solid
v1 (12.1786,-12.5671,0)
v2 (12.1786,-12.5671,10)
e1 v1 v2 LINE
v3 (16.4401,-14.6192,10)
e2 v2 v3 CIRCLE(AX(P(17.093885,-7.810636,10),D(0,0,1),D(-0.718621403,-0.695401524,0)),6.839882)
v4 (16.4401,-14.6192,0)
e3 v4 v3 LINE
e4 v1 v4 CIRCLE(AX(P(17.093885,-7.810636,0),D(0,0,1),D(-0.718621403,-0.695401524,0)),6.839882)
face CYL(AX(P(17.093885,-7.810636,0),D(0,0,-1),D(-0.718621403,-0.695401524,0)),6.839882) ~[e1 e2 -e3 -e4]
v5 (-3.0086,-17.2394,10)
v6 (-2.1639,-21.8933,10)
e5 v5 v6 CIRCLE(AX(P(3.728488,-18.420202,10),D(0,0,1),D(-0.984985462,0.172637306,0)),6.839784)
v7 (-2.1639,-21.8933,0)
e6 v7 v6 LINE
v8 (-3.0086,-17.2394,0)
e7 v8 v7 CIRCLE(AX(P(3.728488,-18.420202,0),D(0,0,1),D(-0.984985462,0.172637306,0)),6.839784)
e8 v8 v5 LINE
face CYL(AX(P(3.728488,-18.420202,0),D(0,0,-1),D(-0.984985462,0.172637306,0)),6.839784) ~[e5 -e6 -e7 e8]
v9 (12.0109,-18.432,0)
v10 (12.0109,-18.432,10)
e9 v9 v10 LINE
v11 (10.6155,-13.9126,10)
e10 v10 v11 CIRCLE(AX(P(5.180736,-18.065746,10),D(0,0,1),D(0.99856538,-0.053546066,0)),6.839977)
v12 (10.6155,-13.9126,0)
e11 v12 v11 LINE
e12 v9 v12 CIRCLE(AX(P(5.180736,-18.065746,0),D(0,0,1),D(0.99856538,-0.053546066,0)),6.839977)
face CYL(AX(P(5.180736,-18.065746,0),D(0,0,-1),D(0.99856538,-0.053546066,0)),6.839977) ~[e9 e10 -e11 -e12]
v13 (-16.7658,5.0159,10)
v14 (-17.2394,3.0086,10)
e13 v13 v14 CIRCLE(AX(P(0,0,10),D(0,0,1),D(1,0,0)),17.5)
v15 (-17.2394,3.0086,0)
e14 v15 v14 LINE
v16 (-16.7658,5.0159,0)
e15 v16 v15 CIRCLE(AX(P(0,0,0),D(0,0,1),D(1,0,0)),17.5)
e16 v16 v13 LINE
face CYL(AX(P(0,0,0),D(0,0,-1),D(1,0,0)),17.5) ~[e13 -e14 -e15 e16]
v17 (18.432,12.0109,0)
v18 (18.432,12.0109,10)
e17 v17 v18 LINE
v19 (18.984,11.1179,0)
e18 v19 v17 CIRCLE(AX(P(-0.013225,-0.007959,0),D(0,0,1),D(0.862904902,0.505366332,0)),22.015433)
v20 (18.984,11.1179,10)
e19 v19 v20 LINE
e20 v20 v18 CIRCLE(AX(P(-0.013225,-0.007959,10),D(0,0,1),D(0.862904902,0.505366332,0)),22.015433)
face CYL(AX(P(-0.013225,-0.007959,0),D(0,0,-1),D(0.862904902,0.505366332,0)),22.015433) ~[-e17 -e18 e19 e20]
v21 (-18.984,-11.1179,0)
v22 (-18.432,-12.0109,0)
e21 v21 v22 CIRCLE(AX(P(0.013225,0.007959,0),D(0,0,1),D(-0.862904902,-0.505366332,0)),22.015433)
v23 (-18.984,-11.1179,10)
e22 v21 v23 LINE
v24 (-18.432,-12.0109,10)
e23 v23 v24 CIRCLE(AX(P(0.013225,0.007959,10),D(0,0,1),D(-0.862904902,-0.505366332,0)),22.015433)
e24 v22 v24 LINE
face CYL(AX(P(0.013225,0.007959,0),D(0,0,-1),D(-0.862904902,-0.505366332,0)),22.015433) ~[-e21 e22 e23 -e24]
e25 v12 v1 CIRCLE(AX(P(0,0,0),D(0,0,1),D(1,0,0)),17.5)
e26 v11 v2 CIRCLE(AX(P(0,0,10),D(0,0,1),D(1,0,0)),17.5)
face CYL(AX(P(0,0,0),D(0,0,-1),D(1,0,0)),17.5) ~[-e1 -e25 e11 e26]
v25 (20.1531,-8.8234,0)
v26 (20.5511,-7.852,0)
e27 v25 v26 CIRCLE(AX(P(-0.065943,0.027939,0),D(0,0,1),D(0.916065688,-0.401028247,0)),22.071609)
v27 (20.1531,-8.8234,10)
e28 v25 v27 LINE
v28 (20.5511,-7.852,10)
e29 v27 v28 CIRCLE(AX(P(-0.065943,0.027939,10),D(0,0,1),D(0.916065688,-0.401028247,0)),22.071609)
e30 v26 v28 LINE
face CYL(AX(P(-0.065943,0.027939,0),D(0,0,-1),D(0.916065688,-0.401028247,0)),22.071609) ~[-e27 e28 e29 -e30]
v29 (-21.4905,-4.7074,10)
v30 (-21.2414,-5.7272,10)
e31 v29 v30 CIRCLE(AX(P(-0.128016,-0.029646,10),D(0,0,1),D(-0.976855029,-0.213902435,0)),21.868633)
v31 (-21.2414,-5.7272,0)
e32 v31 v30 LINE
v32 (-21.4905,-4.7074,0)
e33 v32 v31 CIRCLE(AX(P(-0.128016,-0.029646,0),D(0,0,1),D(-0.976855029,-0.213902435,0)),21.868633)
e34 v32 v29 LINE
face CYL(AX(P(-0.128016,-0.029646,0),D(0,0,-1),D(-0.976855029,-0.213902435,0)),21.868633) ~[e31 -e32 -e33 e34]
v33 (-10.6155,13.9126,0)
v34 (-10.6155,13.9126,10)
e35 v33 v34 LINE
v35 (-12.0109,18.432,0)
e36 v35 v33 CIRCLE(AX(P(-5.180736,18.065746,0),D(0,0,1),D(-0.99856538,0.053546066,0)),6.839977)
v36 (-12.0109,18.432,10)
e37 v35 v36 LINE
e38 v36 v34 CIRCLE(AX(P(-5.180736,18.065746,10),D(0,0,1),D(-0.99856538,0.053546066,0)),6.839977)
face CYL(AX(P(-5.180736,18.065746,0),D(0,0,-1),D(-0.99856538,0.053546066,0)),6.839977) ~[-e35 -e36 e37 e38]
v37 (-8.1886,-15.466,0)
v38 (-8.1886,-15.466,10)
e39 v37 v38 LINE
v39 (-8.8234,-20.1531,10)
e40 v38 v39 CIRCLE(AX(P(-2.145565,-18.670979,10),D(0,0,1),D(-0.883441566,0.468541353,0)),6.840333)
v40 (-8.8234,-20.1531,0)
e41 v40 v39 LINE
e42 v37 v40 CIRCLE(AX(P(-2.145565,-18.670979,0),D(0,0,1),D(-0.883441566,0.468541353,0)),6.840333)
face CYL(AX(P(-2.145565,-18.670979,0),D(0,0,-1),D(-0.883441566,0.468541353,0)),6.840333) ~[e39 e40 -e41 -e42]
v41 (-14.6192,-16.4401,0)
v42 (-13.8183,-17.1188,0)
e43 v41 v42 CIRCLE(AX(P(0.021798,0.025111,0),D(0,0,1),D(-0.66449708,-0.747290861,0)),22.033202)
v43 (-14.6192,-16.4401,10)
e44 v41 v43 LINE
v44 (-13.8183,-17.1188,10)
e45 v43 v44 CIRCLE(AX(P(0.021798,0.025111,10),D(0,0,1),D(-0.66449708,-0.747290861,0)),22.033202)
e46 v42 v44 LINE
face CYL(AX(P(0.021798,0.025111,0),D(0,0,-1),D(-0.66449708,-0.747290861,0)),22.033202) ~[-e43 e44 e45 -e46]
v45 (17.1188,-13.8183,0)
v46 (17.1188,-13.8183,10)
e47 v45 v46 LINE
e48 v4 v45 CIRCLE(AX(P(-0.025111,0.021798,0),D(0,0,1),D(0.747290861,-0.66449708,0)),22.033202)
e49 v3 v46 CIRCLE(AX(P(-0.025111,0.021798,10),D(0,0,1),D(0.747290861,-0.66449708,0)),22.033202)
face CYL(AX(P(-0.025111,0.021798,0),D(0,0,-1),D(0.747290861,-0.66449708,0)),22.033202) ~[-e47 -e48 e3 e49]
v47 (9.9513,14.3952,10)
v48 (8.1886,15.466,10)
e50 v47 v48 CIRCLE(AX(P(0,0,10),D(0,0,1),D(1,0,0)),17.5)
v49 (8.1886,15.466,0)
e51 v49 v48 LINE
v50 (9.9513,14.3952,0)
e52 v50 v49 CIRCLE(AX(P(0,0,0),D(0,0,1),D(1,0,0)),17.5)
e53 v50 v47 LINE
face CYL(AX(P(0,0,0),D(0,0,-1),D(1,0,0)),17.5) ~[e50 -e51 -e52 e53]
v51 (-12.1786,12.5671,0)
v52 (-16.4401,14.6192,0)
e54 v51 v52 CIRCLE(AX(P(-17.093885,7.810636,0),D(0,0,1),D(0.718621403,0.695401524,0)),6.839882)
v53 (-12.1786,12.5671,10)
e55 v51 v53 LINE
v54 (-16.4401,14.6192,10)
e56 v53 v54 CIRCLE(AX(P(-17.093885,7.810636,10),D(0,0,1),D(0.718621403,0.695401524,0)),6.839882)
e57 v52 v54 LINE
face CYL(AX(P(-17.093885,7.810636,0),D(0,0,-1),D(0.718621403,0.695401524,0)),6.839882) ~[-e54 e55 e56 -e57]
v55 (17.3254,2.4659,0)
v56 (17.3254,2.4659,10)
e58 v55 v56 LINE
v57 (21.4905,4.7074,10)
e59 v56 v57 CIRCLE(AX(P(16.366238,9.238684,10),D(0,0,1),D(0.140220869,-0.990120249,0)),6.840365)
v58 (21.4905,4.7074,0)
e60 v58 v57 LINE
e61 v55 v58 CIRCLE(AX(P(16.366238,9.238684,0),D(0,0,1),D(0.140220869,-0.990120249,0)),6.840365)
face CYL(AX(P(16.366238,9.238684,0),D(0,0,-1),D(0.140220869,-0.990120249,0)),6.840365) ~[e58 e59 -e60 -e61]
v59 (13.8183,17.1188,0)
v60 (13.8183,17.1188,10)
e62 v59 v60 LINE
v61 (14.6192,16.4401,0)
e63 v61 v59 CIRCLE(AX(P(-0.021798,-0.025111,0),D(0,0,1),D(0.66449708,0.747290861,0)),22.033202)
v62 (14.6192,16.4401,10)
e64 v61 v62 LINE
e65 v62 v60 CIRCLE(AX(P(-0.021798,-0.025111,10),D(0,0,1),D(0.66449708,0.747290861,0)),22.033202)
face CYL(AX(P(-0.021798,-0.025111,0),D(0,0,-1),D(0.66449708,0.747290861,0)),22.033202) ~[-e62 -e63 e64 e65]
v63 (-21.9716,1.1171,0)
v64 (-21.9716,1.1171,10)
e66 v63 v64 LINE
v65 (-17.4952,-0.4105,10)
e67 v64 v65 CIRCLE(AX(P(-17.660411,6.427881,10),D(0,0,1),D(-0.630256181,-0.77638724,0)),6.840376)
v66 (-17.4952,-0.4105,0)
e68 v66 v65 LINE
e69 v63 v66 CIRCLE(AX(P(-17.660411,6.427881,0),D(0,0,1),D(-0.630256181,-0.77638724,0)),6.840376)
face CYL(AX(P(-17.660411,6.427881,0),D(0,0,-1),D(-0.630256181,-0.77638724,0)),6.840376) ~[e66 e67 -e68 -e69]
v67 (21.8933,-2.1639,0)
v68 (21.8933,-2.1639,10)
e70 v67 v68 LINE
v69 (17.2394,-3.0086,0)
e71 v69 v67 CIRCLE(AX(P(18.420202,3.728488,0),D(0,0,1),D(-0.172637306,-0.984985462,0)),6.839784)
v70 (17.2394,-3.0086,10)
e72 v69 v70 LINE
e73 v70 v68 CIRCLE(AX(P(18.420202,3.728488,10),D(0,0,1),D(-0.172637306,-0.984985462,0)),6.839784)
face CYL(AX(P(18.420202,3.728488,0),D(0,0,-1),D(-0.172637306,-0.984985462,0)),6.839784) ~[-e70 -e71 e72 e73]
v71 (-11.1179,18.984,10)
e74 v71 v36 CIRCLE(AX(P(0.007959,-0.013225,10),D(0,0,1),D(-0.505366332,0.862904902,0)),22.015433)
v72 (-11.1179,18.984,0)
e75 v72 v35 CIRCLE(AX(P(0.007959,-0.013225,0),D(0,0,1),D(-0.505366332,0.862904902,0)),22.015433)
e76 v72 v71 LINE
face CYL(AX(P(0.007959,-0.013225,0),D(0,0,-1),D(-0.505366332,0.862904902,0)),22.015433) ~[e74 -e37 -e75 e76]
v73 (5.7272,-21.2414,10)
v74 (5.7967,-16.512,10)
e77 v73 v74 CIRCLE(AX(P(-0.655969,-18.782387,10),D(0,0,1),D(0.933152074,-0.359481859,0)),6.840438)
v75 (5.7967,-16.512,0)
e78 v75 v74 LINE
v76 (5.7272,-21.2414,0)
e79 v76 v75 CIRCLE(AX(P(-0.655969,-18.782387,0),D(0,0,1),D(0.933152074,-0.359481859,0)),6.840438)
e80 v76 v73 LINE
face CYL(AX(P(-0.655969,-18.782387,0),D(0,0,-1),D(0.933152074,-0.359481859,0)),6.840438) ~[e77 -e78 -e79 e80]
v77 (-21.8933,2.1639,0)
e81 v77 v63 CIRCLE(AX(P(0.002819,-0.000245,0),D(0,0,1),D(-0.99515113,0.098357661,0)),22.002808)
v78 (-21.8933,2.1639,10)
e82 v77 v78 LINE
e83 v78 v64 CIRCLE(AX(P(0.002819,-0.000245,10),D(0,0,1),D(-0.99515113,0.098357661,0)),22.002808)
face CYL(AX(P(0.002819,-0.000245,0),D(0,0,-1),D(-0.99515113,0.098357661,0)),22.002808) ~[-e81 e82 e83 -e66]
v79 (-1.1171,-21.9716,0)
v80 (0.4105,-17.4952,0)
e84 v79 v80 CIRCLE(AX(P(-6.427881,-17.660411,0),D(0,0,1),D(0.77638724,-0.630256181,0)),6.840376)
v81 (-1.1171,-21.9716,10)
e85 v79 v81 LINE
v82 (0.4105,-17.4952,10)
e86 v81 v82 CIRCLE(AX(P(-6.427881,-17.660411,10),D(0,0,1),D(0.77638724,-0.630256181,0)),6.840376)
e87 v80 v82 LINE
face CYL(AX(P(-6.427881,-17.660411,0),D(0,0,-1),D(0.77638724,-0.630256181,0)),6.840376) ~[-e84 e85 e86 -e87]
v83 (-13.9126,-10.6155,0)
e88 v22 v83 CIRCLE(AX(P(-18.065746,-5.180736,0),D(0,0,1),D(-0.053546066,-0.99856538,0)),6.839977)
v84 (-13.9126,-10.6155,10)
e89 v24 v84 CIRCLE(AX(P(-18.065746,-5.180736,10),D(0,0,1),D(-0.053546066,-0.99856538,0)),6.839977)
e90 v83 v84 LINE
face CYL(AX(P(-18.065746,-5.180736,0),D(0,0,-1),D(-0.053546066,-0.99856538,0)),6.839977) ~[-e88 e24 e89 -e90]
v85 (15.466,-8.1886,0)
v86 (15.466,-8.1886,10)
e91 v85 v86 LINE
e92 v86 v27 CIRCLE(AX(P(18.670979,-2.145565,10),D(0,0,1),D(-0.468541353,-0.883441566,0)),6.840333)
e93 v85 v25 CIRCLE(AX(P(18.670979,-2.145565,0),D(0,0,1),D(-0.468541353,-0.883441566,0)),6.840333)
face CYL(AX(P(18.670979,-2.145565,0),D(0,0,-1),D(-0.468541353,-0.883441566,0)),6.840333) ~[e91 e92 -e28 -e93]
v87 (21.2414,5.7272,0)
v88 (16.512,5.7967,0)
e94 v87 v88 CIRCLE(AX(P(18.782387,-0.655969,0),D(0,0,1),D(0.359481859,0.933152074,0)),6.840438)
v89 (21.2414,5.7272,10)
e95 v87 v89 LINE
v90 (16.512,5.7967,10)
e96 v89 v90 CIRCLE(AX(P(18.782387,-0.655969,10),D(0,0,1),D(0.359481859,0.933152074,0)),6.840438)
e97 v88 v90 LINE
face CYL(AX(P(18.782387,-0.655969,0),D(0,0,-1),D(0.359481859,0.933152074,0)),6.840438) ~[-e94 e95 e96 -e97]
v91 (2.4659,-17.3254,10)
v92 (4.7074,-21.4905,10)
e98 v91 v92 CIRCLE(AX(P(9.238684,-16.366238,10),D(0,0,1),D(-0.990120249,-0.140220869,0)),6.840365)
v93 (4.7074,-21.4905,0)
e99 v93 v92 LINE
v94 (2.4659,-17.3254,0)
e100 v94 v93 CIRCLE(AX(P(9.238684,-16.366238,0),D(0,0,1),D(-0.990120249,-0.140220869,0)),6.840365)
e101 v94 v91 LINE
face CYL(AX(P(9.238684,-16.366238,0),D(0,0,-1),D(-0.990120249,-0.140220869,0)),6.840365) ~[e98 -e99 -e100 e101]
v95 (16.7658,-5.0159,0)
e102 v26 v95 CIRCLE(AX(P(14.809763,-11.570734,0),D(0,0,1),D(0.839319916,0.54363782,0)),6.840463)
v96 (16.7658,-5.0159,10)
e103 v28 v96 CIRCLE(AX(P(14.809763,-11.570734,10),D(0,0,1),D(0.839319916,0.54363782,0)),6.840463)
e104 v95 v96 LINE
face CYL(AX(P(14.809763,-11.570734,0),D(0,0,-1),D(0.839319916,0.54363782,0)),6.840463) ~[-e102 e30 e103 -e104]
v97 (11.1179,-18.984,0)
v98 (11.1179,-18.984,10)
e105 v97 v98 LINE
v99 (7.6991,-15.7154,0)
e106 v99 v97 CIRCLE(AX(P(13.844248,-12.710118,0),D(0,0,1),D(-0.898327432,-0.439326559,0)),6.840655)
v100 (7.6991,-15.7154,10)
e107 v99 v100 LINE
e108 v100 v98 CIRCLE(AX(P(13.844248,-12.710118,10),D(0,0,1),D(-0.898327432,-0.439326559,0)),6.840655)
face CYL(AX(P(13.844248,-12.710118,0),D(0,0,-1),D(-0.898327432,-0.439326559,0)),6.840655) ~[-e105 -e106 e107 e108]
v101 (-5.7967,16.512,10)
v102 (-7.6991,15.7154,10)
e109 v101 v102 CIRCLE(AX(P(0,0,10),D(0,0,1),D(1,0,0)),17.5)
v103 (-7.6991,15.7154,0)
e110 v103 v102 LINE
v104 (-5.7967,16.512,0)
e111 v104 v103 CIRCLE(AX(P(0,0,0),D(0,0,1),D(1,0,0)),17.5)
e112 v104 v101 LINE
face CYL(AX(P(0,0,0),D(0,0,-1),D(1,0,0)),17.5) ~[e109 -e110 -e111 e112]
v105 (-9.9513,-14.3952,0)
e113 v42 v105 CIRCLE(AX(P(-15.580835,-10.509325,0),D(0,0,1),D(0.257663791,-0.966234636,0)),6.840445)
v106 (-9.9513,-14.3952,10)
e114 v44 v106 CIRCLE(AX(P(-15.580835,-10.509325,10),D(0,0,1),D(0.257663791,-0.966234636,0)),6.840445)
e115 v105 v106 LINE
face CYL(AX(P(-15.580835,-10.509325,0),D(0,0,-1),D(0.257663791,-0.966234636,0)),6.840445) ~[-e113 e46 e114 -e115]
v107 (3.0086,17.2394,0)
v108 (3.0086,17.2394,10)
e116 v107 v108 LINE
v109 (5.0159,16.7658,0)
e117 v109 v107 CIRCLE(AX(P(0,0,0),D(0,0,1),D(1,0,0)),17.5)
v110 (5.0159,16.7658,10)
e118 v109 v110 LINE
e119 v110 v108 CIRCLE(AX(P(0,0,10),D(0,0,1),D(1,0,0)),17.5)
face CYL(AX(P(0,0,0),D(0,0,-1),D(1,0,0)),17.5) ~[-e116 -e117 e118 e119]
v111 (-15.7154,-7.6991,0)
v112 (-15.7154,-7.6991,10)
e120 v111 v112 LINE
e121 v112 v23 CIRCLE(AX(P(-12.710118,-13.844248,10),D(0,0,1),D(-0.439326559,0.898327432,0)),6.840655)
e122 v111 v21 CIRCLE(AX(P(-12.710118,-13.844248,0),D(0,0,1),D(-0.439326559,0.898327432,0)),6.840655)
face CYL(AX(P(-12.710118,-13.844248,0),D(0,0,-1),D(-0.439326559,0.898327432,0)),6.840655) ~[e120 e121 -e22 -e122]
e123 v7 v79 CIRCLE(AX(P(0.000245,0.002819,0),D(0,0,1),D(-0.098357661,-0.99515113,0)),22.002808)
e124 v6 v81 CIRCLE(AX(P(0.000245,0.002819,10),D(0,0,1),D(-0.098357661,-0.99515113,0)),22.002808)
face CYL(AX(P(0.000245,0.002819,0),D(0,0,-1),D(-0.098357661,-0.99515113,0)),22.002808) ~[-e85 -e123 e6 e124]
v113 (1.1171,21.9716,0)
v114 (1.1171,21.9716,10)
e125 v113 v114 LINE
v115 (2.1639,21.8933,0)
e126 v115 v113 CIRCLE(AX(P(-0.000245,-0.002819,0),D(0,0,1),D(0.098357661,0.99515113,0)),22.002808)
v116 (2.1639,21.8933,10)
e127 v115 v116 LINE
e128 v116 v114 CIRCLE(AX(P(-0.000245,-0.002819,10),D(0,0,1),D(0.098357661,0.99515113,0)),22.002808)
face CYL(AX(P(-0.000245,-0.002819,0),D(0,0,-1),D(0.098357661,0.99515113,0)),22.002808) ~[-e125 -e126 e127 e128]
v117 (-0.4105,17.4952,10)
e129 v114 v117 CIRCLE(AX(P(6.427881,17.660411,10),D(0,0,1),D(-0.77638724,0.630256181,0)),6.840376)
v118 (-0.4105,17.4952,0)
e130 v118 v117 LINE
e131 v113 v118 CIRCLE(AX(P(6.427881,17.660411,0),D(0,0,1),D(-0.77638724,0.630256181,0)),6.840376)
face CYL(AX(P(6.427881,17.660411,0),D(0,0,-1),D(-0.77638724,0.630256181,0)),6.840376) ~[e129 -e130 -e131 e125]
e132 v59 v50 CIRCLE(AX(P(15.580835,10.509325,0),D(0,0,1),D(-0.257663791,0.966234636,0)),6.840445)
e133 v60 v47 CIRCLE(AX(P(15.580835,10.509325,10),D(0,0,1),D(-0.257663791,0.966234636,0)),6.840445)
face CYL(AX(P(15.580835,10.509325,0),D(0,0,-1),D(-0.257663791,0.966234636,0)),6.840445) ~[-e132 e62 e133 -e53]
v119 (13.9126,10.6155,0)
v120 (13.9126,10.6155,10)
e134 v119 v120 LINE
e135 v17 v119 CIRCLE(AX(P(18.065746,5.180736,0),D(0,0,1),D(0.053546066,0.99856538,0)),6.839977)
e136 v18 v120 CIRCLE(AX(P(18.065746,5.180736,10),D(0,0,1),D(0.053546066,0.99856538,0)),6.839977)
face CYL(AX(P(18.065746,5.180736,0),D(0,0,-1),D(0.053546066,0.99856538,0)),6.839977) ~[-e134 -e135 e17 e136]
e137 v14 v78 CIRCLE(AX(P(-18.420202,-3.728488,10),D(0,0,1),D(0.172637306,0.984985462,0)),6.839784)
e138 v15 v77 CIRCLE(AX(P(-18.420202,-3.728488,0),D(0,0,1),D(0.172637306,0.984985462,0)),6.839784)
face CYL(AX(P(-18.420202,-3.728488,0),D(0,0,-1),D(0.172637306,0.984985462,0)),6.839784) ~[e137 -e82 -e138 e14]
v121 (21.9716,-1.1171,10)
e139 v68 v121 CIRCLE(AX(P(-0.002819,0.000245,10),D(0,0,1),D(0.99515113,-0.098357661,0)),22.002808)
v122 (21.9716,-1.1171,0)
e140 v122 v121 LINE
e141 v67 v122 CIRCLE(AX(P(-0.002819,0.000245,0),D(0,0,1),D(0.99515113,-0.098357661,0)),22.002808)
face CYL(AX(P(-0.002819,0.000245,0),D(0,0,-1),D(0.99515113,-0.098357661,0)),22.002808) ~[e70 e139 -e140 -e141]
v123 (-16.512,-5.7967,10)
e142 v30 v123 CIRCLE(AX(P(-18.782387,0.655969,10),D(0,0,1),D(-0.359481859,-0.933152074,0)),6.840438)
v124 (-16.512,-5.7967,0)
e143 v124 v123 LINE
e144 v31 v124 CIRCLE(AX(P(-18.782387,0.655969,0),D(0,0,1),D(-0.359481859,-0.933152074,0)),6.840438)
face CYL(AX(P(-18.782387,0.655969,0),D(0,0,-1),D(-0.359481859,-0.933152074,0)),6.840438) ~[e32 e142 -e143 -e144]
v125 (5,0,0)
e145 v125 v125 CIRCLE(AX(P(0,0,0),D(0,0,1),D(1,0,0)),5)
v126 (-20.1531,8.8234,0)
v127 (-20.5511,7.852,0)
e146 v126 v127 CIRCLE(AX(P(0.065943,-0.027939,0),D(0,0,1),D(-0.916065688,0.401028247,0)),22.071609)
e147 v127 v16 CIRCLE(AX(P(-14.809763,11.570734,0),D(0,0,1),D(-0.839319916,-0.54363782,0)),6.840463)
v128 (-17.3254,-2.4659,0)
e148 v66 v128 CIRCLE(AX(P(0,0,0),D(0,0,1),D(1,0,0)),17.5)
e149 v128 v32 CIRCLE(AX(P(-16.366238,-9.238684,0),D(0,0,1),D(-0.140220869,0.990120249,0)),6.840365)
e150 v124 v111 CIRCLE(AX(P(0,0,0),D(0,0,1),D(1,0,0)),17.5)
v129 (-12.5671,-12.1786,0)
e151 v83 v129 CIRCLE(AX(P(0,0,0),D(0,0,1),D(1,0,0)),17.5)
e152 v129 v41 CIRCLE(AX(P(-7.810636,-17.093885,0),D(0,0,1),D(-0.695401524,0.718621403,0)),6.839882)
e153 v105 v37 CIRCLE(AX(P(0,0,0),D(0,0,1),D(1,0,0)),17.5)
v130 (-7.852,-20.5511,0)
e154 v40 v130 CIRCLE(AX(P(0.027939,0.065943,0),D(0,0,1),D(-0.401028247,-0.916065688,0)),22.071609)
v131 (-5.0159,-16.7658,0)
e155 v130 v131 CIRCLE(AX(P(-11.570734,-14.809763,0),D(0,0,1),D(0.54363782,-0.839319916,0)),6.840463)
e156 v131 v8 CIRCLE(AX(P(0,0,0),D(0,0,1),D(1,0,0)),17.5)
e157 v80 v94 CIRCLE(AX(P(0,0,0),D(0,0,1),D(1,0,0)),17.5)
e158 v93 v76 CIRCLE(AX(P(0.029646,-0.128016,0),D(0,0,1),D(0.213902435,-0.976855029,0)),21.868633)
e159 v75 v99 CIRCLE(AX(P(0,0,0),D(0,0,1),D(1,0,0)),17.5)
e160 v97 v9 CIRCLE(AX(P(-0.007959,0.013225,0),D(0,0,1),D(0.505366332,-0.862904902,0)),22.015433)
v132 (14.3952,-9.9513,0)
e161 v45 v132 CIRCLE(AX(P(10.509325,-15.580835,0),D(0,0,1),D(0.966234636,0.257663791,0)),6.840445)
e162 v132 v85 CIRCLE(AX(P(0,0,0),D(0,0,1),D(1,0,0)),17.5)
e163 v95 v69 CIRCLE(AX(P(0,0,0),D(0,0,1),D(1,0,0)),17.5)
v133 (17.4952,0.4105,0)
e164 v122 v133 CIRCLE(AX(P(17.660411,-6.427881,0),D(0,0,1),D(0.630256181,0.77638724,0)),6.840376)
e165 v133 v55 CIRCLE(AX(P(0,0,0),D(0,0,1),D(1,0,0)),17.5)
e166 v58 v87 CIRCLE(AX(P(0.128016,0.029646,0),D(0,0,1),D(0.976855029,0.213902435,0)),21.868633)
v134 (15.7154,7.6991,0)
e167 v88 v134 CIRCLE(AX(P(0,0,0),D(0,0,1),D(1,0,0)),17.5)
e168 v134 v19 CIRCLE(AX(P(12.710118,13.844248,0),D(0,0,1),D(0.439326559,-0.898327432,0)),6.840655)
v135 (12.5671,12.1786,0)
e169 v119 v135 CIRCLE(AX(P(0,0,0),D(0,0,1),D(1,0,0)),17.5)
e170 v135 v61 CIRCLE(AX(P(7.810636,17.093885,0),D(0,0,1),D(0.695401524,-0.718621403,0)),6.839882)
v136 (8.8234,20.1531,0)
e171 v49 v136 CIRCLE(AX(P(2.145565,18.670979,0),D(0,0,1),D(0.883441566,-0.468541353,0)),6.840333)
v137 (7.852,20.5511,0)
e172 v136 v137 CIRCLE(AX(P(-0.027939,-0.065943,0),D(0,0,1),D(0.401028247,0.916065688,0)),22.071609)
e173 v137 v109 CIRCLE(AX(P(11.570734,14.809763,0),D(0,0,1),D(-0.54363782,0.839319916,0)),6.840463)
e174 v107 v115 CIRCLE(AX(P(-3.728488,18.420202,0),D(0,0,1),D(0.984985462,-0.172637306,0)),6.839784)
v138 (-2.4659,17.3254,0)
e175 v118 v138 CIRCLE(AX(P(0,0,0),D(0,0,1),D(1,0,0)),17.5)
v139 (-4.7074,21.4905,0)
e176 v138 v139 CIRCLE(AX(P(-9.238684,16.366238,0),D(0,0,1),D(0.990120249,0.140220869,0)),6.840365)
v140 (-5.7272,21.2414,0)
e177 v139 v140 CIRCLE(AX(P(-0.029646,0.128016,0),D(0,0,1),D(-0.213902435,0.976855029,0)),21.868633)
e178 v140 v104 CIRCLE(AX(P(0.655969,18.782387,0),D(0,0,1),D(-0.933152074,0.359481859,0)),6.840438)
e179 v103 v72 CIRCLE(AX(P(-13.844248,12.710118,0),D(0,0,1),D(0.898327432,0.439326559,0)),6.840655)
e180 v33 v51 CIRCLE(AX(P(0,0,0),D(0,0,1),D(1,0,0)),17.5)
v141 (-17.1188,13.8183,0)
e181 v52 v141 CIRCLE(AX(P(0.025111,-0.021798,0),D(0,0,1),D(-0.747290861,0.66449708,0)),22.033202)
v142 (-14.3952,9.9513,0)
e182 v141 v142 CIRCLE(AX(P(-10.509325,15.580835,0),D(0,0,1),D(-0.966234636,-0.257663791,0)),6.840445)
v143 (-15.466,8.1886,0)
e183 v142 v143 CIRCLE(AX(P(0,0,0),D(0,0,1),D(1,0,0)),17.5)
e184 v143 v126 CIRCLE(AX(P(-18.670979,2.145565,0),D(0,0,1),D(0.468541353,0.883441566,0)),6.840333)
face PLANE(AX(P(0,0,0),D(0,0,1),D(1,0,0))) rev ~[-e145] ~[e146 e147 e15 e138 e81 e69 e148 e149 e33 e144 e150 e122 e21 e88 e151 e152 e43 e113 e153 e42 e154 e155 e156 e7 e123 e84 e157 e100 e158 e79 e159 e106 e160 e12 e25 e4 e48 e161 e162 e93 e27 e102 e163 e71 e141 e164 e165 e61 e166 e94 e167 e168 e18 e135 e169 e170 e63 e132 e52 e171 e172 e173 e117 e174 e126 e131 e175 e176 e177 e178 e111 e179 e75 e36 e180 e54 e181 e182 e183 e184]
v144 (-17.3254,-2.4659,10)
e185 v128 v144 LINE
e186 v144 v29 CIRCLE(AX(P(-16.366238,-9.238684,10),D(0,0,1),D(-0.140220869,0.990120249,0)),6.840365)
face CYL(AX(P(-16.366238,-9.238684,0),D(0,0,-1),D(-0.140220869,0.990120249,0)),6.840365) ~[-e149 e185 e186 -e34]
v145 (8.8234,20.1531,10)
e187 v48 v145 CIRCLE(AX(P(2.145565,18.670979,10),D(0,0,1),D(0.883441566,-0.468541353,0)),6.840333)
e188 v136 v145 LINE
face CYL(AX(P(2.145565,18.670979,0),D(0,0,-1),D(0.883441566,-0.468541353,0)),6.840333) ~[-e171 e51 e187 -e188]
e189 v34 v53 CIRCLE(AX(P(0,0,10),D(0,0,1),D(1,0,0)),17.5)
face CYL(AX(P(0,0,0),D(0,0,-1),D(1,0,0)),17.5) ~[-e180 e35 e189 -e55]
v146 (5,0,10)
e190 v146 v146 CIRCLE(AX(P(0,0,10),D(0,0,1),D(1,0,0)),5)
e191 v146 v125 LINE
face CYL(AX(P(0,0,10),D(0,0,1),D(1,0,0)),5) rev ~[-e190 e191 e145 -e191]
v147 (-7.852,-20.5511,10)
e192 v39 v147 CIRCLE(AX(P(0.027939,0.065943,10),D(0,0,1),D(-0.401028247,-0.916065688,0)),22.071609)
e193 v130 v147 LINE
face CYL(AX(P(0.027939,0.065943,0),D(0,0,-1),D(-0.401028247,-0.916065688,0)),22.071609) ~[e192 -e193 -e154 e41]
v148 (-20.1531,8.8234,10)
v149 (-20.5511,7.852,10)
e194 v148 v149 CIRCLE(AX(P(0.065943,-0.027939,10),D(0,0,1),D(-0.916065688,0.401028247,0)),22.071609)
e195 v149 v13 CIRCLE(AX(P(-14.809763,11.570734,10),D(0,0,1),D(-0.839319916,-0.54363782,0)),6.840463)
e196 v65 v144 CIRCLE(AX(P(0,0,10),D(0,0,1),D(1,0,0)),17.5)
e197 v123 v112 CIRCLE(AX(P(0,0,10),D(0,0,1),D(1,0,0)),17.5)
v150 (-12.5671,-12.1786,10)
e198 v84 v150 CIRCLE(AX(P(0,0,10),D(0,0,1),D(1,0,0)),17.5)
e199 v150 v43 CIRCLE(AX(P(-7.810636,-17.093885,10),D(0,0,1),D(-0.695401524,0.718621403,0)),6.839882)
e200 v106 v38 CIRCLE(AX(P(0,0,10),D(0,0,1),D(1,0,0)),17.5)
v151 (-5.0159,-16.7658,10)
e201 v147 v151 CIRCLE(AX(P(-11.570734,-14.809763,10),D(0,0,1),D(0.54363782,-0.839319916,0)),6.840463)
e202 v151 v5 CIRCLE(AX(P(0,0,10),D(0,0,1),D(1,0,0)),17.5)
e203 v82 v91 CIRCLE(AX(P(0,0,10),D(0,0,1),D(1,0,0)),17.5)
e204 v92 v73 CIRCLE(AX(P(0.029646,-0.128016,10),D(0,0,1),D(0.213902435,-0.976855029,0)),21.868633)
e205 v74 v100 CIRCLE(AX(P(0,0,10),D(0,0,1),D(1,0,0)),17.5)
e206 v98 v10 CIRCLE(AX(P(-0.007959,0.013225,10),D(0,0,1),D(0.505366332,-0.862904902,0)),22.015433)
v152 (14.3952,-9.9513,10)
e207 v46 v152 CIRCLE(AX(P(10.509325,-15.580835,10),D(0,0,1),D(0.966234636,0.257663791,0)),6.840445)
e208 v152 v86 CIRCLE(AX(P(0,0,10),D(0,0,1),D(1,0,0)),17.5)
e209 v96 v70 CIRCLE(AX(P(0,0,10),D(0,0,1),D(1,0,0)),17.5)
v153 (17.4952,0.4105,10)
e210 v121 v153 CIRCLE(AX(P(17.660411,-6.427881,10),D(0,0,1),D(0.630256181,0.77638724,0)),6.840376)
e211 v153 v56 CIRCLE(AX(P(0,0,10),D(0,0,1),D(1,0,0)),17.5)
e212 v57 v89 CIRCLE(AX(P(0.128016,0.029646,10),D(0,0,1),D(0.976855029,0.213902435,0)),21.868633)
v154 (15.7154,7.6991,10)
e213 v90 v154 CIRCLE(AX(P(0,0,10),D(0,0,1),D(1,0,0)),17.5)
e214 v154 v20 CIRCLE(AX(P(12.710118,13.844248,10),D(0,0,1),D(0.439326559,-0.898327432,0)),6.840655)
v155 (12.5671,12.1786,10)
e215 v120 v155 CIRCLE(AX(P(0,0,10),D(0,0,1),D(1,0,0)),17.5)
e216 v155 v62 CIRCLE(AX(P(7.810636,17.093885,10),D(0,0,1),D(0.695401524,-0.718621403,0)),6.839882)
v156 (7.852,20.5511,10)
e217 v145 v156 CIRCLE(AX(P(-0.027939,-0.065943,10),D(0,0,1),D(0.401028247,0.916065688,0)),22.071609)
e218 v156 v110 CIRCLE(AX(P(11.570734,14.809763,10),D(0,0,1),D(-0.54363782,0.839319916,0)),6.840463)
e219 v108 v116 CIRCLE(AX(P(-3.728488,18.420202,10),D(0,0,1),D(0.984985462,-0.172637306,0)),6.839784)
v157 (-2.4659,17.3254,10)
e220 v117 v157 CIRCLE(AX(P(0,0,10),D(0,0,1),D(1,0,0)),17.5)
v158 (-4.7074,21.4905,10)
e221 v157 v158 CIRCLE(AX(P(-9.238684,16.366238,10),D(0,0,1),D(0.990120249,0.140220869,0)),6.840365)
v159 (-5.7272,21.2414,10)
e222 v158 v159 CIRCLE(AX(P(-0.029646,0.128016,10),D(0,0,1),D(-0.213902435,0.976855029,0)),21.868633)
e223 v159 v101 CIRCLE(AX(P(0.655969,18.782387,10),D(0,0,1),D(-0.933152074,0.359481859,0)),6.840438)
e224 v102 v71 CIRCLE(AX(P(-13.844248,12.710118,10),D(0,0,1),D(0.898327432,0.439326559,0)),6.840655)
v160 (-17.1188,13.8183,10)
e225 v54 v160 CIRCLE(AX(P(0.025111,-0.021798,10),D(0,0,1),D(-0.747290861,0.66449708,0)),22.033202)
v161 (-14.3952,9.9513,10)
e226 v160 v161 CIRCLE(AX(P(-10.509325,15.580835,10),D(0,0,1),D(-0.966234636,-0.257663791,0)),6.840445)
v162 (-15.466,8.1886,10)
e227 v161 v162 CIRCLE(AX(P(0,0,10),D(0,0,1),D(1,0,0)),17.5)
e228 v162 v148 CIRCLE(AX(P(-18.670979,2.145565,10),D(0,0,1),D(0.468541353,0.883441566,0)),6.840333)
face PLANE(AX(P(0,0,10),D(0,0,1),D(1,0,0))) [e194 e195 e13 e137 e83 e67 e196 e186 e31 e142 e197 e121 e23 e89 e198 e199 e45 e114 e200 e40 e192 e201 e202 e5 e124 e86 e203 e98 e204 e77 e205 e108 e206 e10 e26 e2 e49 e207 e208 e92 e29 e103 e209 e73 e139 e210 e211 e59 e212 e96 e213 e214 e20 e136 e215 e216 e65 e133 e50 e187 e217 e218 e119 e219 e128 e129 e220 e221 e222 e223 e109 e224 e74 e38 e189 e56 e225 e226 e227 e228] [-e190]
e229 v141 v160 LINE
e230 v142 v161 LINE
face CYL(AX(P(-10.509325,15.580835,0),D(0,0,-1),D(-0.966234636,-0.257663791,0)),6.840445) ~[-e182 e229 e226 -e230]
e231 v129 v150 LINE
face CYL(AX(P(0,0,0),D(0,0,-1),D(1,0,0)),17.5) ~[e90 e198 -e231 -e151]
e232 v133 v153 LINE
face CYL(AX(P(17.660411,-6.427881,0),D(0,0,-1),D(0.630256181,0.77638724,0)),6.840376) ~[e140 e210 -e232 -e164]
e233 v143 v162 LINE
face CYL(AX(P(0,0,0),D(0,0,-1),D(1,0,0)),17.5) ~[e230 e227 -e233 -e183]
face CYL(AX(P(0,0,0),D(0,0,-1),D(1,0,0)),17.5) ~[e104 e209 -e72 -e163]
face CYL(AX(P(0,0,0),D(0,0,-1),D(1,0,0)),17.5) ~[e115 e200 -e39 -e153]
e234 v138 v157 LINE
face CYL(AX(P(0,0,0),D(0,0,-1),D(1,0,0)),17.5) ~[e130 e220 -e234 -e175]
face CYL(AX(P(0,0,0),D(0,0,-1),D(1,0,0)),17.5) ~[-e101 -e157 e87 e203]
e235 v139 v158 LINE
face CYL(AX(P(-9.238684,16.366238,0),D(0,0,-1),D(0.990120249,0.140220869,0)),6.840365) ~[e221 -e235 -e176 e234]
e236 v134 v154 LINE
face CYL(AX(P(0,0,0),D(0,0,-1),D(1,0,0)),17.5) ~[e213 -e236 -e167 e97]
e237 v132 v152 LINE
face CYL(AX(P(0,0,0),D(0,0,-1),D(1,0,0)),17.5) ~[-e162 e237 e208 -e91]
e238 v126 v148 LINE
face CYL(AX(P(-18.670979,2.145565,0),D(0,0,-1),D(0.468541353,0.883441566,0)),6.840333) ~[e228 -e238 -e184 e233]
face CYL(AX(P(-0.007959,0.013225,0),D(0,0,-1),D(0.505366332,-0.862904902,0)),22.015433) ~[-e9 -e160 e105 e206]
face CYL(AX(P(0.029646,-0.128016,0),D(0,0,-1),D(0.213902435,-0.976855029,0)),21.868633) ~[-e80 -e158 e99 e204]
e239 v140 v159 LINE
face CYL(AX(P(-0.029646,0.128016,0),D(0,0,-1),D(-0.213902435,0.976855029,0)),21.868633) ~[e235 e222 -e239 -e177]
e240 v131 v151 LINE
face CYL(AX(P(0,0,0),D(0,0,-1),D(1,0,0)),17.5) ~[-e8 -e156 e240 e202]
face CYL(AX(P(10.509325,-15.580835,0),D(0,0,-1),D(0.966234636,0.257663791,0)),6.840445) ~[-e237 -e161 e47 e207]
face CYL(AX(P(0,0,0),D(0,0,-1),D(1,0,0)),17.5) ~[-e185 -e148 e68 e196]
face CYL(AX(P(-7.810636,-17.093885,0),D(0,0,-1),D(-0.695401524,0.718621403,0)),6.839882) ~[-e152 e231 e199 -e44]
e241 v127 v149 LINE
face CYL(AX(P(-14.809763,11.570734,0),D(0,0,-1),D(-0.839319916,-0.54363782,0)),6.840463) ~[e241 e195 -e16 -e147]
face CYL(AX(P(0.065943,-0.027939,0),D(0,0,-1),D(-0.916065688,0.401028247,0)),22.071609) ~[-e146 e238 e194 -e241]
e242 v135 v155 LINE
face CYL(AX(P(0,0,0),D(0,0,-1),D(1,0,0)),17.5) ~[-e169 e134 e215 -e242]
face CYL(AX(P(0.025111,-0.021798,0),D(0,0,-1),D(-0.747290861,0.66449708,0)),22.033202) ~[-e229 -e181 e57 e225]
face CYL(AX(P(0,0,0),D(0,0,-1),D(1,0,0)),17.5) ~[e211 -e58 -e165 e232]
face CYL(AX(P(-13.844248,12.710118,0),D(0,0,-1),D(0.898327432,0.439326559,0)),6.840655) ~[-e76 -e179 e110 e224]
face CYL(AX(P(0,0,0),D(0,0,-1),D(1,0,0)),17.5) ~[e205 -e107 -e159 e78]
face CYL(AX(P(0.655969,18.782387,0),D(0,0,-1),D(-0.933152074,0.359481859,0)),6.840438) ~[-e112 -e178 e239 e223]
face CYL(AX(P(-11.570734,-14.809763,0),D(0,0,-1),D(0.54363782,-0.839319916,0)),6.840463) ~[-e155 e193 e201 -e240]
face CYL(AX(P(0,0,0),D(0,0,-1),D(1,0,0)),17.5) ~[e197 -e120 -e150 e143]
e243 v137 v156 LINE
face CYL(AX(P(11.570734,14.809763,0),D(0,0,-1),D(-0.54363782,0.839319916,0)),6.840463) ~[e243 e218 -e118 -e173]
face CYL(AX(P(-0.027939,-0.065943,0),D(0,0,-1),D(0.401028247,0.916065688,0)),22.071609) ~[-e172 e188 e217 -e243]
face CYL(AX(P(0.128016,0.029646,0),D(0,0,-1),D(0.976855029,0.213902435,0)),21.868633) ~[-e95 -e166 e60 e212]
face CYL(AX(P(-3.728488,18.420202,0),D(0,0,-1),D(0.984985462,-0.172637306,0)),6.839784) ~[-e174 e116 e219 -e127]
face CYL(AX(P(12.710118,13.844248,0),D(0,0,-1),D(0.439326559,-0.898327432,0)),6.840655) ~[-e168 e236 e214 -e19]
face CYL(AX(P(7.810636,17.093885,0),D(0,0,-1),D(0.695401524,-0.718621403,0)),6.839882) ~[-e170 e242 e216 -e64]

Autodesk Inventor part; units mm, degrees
ref_plane "YZ Plane" through (0, 0, 0) normal (1, 0, 0) x (0, 1, 0)
ref_plane "XZ Plane" through (0, 0, 0) normal (0, 1, 0) x (-1, 0, 0)
ref_plane "XY Plane" through (0, 0, 0) normal (0, 0, 1) x (1, 0, 0)
sketch "Sketch1" plane through (0, 0, 0) normal (0, 0, 1) x (1, 0, 0)
  arc A0 (21.8933, -2.1639) -> (21.9716, -1.1171) centre (0, 0) ccw
  circle A1 centre (0, 0) radius 17.5
  line L0 (0, 0) -> (28.7195, 0) construction
  arc A2 (21.9716, -1.1171) -> (17.4952, 0.4105) centre (17.6604, -6.4279) ccw
  line L1 (0, 0) -> (30.5019, 0) construction
  arc A3 (17.2394, -3.0086) -> (21.8933, -2.1639) centre (18.4202, 3.7291) ccw
  arc A4 (21.4905, 4.7074) -> (21.2414, 5.7272) centre (0, 0) ccw
  arc A5 (21.2414, 5.7272) -> (16.512, 5.7967) centre (18.7824, -0.6559) ccw
  arc A6 (17.3254, 2.4659) -> (21.4905, 4.7074) centre (16.3662, 9.2388) ccw
  arc A7 (18.984, 11.1179) -> (18.432, 12.0109) centre (0, 0) ccw
  arc A8 (18.432, 12.0109) -> (13.9126, 10.6155) centre (18.0658, 5.1803) ccw
  arc A9 (15.7154, 7.6991) -> (18.984, 11.1179) centre (12.7103, 13.844) ccw
  arc A10 (14.6192, 16.4401) -> (13.8183, 17.1188) centre (0, 0) ccw
  arc A11 (13.8183, 17.1188) -> (9.9513, 14.3952) centre (15.5808, 10.5094) ccw
  arc A12 (12.5671, 12.1786) -> (14.6192, 16.4401) centre (7.8102, 17.0942) ccw
  arc A13 (8.8234, 20.1531) -> (7.852, 20.5511) centre (0, 0) ccw
  arc A14 (7.852, 20.5511) -> (5.0159, 16.7658) centre (11.5707, 14.8098) ccw
  arc A15 (8.1886, 15.466) -> (8.8234, 20.1531) centre (2.1455, 18.671) ccw
  arc A16 (2.1639, 21.8933) -> (1.1171, 21.9716) centre (0, 0) ccw
  arc A17 (1.1171, 21.9716) -> (-0.4105, 17.4952) centre (6.4279, 17.6604) ccw
  arc A18 (3.0086, 17.2394) -> (2.1639, 21.8933) centre (-3.7291, 18.4202) ccw
  arc A19 (-4.7074, 21.4905) -> (-5.7272, 21.2414) centre (0, 0) ccw
  arc A20 (-5.7272, 21.2414) -> (-5.7967, 16.512) centre (0.6559, 18.7824) ccw
  arc A21 (-2.4659, 17.3254) -> (-4.7074, 21.4905) centre (-9.2388, 16.3662) ccw
  arc A22 (-11.1179, 18.984) -> (-12.0109, 18.432) centre (0, 0) ccw
  arc A23 (-12.0109, 18.432) -> (-10.6155, 13.9126) centre (-5.1803, 18.0658) ccw
  arc A24 (-7.6991, 15.7154) -> (-11.1179, 18.984) centre (-13.844, 12.7103) ccw
  arc A25 (-16.4401, 14.6192) -> (-17.1188, 13.8183) centre (0, 0) ccw
  arc A26 (-17.1188, 13.8183) -> (-14.3952, 9.9513) centre (-10.5094, 15.5808) ccw
  arc A27 (-12.1786, 12.5671) -> (-16.4401, 14.6192) centre (-17.0942, 7.8102) ccw
  arc A28 (-20.1531, 8.8234) -> (-20.5511, 7.852) centre (0, 0) ccw
  arc A29 (-20.5511, 7.852) -> (-16.7658, 5.0159) centre (-14.8098, 11.5707) ccw
  arc A30 (-15.466, 8.1886) -> (-20.1531, 8.8234) centre (-18.671, 2.1455) ccw
  arc A31 (-21.8933, 2.1639) -> (-21.9716, 1.1171) centre (0, 0) ccw
  arc A32 (-21.9716, 1.1171) -> (-17.4952, -0.4105) centre (-17.6604, 6.4279) ccw
  arc A33 (-17.2394, 3.0086) -> (-21.8933, 2.1639) centre (-18.4202, -3.7291) ccw
  arc A34 (-21.4905, -4.7074) -> (-21.2414, -5.7272) centre (0, 0) ccw
  arc A35 (-21.2414, -5.7272) -> (-16.512, -5.7967) centre (-18.7824, 0.6559) ccw
  arc A36 (-17.3254, -2.4659) -> (-21.4905, -4.7074) centre (-16.3662, -9.2388) ccw
  arc A37 (-18.984, -11.1179) -> (-18.432, -12.0109) centre (0, 0) ccw
  arc A38 (-18.432, -12.0109) -> (-13.9126, -10.6155) centre (-18.0658, -5.1803) ccw
  arc A39 (-15.7154, -7.6991) -> (-18.984, -11.1179) centre (-12.7103, -13.844) ccw
  arc A40 (-14.6192, -16.4401) -> (-13.8183, -17.1188) centre (0, 0) ccw
  arc A41 (-13.8183, -17.1188) -> (-9.9513, -14.3952) centre (-15.5808, -10.5094) ccw
  arc A42 (-12.5671, -12.1786) -> (-14.6192, -16.4401) centre (-7.8102, -17.0942) ccw
  arc A43 (-8.8234, -20.1531) -> (-7.852, -20.5511) centre (0, 0) ccw
  arc A44 (-7.852, -20.5511) -> (-5.0159, -16.7658) centre (-11.5707, -14.8098) ccw
  arc A45 (-8.1886, -15.466) -> (-8.8234, -20.1531) centre (-2.1455, -18.671) ccw
  arc A46 (-2.1639, -21.8933) -> (-1.1171, -21.9716) centre (0, 0) ccw
  arc A47 (-1.1171, -21.9716) -> (0.4105, -17.4952) centre (-6.4279, -17.6604) ccw
  arc A48 (-3.0086, -17.2394) -> (-2.1639, -21.8933) centre (3.7291, -18.4202) ccw
  arc A49 (4.7074, -21.4905) -> (5.7272, -21.2414) centre (0, 0) ccw
  arc A50 (5.7272, -21.2414) -> (5.7967, -16.512) centre (-0.6559, -18.7824) ccw
  arc A51 (2.4659, -17.3254) -> (4.7074, -21.4905) centre (9.2388, -16.3662) ccw
  arc A52 (11.1179, -18.984) -> (12.0109, -18.432) centre (0, 0) ccw
  arc A53 (12.0109, -18.432) -> (10.6155, -13.9126) centre (5.1803, -18.0658) ccw
  arc A54 (7.6991, -15.7154) -> (11.1179, -18.984) centre (13.844, -12.7103) ccw
  arc A55 (16.4401, -14.6192) -> (17.1188, -13.8183) centre (0, 0) ccw
  arc A56 (17.1188, -13.8183) -> (14.3952, -9.9513) centre (10.5094, -15.5808) ccw
  arc A57 (12.1786, -12.5671) -> (16.4401, -14.6192) centre (17.0942, -7.8102) ccw
  arc A58 (20.1531, -8.8234) -> (20.5511, -7.852) centre (0, 0) ccw
  arc A59 (20.5511, -7.852) -> (16.7658, -5.0159) centre (14.8098, -11.5707) ccw
  arc A60 (15.466, -8.1886) -> (20.1531, -8.8234) centre (18.671, -2.1455) ccw
  point P0 (16.7658, -5.0159)
  point P1 (17.2394, -3.0086)
  point P2 (17.3254, 2.4659)
  point P3 (16.512, 5.7967)
  point P4 (13.9126, 10.6155)
  point P5 (12.5671, 12.1786)
  point P6 (9.9513, 14.3952)
  point P7 (5.0159, 16.7658)
  point P8 (3.0086, 17.2394)
  point P9 (-0.4105, 17.4952)
  point P10 (-2.4659, 17.3254)
  point P11 (-5.7967, 16.512)
  point P12 (-10.6155, 13.9126)
  point P13 (-12.1786, 12.5671)
  point P14 (-14.3952, 9.9513)
  point P15 (-16.7658, 5.0159)
  point P16 (-17.2394, 3.0086)
  point P17 (-17.4952, -0.4105)
  point P18 (-17.3254, -2.4659)
  point P19 (-16.512, -5.7967)
  point P20 (-13.9126, -10.6155)
  point P21 (-12.5671, -12.1786)
  point P22 (-9.9513, -14.3952)
  point P23 (-8.1886, -15.466)
  point P24 (-3.0086, -17.2394)
  point P25 (0.4105, -17.4952)
  point P26 (2.4659, -17.3254)
  point P27 (5.7967, -16.512)
  point P28 (10.6155, -13.9126)
  point P29 (12.1786, -12.5671)
  point P30 (15.466, -8.1886)
  dimension "d13" = 35
  dimension "d12" = 44
  dimension "d18" = 360
extrude "Extrusion1" add sketch "Sketch1" along normal blind 10
sketch "Sketch2" plane through (0, 0, 10) normal (0, 0, 1) x (1, 0, 0)
  circle A0 centre (0, 0) radius 5
  dimension "d20" = 10
extrude "Extrusion2" cut sketch "Sketch2" against normal blind 10
properties part number "ENGRANAJE PARA RODILLO"
